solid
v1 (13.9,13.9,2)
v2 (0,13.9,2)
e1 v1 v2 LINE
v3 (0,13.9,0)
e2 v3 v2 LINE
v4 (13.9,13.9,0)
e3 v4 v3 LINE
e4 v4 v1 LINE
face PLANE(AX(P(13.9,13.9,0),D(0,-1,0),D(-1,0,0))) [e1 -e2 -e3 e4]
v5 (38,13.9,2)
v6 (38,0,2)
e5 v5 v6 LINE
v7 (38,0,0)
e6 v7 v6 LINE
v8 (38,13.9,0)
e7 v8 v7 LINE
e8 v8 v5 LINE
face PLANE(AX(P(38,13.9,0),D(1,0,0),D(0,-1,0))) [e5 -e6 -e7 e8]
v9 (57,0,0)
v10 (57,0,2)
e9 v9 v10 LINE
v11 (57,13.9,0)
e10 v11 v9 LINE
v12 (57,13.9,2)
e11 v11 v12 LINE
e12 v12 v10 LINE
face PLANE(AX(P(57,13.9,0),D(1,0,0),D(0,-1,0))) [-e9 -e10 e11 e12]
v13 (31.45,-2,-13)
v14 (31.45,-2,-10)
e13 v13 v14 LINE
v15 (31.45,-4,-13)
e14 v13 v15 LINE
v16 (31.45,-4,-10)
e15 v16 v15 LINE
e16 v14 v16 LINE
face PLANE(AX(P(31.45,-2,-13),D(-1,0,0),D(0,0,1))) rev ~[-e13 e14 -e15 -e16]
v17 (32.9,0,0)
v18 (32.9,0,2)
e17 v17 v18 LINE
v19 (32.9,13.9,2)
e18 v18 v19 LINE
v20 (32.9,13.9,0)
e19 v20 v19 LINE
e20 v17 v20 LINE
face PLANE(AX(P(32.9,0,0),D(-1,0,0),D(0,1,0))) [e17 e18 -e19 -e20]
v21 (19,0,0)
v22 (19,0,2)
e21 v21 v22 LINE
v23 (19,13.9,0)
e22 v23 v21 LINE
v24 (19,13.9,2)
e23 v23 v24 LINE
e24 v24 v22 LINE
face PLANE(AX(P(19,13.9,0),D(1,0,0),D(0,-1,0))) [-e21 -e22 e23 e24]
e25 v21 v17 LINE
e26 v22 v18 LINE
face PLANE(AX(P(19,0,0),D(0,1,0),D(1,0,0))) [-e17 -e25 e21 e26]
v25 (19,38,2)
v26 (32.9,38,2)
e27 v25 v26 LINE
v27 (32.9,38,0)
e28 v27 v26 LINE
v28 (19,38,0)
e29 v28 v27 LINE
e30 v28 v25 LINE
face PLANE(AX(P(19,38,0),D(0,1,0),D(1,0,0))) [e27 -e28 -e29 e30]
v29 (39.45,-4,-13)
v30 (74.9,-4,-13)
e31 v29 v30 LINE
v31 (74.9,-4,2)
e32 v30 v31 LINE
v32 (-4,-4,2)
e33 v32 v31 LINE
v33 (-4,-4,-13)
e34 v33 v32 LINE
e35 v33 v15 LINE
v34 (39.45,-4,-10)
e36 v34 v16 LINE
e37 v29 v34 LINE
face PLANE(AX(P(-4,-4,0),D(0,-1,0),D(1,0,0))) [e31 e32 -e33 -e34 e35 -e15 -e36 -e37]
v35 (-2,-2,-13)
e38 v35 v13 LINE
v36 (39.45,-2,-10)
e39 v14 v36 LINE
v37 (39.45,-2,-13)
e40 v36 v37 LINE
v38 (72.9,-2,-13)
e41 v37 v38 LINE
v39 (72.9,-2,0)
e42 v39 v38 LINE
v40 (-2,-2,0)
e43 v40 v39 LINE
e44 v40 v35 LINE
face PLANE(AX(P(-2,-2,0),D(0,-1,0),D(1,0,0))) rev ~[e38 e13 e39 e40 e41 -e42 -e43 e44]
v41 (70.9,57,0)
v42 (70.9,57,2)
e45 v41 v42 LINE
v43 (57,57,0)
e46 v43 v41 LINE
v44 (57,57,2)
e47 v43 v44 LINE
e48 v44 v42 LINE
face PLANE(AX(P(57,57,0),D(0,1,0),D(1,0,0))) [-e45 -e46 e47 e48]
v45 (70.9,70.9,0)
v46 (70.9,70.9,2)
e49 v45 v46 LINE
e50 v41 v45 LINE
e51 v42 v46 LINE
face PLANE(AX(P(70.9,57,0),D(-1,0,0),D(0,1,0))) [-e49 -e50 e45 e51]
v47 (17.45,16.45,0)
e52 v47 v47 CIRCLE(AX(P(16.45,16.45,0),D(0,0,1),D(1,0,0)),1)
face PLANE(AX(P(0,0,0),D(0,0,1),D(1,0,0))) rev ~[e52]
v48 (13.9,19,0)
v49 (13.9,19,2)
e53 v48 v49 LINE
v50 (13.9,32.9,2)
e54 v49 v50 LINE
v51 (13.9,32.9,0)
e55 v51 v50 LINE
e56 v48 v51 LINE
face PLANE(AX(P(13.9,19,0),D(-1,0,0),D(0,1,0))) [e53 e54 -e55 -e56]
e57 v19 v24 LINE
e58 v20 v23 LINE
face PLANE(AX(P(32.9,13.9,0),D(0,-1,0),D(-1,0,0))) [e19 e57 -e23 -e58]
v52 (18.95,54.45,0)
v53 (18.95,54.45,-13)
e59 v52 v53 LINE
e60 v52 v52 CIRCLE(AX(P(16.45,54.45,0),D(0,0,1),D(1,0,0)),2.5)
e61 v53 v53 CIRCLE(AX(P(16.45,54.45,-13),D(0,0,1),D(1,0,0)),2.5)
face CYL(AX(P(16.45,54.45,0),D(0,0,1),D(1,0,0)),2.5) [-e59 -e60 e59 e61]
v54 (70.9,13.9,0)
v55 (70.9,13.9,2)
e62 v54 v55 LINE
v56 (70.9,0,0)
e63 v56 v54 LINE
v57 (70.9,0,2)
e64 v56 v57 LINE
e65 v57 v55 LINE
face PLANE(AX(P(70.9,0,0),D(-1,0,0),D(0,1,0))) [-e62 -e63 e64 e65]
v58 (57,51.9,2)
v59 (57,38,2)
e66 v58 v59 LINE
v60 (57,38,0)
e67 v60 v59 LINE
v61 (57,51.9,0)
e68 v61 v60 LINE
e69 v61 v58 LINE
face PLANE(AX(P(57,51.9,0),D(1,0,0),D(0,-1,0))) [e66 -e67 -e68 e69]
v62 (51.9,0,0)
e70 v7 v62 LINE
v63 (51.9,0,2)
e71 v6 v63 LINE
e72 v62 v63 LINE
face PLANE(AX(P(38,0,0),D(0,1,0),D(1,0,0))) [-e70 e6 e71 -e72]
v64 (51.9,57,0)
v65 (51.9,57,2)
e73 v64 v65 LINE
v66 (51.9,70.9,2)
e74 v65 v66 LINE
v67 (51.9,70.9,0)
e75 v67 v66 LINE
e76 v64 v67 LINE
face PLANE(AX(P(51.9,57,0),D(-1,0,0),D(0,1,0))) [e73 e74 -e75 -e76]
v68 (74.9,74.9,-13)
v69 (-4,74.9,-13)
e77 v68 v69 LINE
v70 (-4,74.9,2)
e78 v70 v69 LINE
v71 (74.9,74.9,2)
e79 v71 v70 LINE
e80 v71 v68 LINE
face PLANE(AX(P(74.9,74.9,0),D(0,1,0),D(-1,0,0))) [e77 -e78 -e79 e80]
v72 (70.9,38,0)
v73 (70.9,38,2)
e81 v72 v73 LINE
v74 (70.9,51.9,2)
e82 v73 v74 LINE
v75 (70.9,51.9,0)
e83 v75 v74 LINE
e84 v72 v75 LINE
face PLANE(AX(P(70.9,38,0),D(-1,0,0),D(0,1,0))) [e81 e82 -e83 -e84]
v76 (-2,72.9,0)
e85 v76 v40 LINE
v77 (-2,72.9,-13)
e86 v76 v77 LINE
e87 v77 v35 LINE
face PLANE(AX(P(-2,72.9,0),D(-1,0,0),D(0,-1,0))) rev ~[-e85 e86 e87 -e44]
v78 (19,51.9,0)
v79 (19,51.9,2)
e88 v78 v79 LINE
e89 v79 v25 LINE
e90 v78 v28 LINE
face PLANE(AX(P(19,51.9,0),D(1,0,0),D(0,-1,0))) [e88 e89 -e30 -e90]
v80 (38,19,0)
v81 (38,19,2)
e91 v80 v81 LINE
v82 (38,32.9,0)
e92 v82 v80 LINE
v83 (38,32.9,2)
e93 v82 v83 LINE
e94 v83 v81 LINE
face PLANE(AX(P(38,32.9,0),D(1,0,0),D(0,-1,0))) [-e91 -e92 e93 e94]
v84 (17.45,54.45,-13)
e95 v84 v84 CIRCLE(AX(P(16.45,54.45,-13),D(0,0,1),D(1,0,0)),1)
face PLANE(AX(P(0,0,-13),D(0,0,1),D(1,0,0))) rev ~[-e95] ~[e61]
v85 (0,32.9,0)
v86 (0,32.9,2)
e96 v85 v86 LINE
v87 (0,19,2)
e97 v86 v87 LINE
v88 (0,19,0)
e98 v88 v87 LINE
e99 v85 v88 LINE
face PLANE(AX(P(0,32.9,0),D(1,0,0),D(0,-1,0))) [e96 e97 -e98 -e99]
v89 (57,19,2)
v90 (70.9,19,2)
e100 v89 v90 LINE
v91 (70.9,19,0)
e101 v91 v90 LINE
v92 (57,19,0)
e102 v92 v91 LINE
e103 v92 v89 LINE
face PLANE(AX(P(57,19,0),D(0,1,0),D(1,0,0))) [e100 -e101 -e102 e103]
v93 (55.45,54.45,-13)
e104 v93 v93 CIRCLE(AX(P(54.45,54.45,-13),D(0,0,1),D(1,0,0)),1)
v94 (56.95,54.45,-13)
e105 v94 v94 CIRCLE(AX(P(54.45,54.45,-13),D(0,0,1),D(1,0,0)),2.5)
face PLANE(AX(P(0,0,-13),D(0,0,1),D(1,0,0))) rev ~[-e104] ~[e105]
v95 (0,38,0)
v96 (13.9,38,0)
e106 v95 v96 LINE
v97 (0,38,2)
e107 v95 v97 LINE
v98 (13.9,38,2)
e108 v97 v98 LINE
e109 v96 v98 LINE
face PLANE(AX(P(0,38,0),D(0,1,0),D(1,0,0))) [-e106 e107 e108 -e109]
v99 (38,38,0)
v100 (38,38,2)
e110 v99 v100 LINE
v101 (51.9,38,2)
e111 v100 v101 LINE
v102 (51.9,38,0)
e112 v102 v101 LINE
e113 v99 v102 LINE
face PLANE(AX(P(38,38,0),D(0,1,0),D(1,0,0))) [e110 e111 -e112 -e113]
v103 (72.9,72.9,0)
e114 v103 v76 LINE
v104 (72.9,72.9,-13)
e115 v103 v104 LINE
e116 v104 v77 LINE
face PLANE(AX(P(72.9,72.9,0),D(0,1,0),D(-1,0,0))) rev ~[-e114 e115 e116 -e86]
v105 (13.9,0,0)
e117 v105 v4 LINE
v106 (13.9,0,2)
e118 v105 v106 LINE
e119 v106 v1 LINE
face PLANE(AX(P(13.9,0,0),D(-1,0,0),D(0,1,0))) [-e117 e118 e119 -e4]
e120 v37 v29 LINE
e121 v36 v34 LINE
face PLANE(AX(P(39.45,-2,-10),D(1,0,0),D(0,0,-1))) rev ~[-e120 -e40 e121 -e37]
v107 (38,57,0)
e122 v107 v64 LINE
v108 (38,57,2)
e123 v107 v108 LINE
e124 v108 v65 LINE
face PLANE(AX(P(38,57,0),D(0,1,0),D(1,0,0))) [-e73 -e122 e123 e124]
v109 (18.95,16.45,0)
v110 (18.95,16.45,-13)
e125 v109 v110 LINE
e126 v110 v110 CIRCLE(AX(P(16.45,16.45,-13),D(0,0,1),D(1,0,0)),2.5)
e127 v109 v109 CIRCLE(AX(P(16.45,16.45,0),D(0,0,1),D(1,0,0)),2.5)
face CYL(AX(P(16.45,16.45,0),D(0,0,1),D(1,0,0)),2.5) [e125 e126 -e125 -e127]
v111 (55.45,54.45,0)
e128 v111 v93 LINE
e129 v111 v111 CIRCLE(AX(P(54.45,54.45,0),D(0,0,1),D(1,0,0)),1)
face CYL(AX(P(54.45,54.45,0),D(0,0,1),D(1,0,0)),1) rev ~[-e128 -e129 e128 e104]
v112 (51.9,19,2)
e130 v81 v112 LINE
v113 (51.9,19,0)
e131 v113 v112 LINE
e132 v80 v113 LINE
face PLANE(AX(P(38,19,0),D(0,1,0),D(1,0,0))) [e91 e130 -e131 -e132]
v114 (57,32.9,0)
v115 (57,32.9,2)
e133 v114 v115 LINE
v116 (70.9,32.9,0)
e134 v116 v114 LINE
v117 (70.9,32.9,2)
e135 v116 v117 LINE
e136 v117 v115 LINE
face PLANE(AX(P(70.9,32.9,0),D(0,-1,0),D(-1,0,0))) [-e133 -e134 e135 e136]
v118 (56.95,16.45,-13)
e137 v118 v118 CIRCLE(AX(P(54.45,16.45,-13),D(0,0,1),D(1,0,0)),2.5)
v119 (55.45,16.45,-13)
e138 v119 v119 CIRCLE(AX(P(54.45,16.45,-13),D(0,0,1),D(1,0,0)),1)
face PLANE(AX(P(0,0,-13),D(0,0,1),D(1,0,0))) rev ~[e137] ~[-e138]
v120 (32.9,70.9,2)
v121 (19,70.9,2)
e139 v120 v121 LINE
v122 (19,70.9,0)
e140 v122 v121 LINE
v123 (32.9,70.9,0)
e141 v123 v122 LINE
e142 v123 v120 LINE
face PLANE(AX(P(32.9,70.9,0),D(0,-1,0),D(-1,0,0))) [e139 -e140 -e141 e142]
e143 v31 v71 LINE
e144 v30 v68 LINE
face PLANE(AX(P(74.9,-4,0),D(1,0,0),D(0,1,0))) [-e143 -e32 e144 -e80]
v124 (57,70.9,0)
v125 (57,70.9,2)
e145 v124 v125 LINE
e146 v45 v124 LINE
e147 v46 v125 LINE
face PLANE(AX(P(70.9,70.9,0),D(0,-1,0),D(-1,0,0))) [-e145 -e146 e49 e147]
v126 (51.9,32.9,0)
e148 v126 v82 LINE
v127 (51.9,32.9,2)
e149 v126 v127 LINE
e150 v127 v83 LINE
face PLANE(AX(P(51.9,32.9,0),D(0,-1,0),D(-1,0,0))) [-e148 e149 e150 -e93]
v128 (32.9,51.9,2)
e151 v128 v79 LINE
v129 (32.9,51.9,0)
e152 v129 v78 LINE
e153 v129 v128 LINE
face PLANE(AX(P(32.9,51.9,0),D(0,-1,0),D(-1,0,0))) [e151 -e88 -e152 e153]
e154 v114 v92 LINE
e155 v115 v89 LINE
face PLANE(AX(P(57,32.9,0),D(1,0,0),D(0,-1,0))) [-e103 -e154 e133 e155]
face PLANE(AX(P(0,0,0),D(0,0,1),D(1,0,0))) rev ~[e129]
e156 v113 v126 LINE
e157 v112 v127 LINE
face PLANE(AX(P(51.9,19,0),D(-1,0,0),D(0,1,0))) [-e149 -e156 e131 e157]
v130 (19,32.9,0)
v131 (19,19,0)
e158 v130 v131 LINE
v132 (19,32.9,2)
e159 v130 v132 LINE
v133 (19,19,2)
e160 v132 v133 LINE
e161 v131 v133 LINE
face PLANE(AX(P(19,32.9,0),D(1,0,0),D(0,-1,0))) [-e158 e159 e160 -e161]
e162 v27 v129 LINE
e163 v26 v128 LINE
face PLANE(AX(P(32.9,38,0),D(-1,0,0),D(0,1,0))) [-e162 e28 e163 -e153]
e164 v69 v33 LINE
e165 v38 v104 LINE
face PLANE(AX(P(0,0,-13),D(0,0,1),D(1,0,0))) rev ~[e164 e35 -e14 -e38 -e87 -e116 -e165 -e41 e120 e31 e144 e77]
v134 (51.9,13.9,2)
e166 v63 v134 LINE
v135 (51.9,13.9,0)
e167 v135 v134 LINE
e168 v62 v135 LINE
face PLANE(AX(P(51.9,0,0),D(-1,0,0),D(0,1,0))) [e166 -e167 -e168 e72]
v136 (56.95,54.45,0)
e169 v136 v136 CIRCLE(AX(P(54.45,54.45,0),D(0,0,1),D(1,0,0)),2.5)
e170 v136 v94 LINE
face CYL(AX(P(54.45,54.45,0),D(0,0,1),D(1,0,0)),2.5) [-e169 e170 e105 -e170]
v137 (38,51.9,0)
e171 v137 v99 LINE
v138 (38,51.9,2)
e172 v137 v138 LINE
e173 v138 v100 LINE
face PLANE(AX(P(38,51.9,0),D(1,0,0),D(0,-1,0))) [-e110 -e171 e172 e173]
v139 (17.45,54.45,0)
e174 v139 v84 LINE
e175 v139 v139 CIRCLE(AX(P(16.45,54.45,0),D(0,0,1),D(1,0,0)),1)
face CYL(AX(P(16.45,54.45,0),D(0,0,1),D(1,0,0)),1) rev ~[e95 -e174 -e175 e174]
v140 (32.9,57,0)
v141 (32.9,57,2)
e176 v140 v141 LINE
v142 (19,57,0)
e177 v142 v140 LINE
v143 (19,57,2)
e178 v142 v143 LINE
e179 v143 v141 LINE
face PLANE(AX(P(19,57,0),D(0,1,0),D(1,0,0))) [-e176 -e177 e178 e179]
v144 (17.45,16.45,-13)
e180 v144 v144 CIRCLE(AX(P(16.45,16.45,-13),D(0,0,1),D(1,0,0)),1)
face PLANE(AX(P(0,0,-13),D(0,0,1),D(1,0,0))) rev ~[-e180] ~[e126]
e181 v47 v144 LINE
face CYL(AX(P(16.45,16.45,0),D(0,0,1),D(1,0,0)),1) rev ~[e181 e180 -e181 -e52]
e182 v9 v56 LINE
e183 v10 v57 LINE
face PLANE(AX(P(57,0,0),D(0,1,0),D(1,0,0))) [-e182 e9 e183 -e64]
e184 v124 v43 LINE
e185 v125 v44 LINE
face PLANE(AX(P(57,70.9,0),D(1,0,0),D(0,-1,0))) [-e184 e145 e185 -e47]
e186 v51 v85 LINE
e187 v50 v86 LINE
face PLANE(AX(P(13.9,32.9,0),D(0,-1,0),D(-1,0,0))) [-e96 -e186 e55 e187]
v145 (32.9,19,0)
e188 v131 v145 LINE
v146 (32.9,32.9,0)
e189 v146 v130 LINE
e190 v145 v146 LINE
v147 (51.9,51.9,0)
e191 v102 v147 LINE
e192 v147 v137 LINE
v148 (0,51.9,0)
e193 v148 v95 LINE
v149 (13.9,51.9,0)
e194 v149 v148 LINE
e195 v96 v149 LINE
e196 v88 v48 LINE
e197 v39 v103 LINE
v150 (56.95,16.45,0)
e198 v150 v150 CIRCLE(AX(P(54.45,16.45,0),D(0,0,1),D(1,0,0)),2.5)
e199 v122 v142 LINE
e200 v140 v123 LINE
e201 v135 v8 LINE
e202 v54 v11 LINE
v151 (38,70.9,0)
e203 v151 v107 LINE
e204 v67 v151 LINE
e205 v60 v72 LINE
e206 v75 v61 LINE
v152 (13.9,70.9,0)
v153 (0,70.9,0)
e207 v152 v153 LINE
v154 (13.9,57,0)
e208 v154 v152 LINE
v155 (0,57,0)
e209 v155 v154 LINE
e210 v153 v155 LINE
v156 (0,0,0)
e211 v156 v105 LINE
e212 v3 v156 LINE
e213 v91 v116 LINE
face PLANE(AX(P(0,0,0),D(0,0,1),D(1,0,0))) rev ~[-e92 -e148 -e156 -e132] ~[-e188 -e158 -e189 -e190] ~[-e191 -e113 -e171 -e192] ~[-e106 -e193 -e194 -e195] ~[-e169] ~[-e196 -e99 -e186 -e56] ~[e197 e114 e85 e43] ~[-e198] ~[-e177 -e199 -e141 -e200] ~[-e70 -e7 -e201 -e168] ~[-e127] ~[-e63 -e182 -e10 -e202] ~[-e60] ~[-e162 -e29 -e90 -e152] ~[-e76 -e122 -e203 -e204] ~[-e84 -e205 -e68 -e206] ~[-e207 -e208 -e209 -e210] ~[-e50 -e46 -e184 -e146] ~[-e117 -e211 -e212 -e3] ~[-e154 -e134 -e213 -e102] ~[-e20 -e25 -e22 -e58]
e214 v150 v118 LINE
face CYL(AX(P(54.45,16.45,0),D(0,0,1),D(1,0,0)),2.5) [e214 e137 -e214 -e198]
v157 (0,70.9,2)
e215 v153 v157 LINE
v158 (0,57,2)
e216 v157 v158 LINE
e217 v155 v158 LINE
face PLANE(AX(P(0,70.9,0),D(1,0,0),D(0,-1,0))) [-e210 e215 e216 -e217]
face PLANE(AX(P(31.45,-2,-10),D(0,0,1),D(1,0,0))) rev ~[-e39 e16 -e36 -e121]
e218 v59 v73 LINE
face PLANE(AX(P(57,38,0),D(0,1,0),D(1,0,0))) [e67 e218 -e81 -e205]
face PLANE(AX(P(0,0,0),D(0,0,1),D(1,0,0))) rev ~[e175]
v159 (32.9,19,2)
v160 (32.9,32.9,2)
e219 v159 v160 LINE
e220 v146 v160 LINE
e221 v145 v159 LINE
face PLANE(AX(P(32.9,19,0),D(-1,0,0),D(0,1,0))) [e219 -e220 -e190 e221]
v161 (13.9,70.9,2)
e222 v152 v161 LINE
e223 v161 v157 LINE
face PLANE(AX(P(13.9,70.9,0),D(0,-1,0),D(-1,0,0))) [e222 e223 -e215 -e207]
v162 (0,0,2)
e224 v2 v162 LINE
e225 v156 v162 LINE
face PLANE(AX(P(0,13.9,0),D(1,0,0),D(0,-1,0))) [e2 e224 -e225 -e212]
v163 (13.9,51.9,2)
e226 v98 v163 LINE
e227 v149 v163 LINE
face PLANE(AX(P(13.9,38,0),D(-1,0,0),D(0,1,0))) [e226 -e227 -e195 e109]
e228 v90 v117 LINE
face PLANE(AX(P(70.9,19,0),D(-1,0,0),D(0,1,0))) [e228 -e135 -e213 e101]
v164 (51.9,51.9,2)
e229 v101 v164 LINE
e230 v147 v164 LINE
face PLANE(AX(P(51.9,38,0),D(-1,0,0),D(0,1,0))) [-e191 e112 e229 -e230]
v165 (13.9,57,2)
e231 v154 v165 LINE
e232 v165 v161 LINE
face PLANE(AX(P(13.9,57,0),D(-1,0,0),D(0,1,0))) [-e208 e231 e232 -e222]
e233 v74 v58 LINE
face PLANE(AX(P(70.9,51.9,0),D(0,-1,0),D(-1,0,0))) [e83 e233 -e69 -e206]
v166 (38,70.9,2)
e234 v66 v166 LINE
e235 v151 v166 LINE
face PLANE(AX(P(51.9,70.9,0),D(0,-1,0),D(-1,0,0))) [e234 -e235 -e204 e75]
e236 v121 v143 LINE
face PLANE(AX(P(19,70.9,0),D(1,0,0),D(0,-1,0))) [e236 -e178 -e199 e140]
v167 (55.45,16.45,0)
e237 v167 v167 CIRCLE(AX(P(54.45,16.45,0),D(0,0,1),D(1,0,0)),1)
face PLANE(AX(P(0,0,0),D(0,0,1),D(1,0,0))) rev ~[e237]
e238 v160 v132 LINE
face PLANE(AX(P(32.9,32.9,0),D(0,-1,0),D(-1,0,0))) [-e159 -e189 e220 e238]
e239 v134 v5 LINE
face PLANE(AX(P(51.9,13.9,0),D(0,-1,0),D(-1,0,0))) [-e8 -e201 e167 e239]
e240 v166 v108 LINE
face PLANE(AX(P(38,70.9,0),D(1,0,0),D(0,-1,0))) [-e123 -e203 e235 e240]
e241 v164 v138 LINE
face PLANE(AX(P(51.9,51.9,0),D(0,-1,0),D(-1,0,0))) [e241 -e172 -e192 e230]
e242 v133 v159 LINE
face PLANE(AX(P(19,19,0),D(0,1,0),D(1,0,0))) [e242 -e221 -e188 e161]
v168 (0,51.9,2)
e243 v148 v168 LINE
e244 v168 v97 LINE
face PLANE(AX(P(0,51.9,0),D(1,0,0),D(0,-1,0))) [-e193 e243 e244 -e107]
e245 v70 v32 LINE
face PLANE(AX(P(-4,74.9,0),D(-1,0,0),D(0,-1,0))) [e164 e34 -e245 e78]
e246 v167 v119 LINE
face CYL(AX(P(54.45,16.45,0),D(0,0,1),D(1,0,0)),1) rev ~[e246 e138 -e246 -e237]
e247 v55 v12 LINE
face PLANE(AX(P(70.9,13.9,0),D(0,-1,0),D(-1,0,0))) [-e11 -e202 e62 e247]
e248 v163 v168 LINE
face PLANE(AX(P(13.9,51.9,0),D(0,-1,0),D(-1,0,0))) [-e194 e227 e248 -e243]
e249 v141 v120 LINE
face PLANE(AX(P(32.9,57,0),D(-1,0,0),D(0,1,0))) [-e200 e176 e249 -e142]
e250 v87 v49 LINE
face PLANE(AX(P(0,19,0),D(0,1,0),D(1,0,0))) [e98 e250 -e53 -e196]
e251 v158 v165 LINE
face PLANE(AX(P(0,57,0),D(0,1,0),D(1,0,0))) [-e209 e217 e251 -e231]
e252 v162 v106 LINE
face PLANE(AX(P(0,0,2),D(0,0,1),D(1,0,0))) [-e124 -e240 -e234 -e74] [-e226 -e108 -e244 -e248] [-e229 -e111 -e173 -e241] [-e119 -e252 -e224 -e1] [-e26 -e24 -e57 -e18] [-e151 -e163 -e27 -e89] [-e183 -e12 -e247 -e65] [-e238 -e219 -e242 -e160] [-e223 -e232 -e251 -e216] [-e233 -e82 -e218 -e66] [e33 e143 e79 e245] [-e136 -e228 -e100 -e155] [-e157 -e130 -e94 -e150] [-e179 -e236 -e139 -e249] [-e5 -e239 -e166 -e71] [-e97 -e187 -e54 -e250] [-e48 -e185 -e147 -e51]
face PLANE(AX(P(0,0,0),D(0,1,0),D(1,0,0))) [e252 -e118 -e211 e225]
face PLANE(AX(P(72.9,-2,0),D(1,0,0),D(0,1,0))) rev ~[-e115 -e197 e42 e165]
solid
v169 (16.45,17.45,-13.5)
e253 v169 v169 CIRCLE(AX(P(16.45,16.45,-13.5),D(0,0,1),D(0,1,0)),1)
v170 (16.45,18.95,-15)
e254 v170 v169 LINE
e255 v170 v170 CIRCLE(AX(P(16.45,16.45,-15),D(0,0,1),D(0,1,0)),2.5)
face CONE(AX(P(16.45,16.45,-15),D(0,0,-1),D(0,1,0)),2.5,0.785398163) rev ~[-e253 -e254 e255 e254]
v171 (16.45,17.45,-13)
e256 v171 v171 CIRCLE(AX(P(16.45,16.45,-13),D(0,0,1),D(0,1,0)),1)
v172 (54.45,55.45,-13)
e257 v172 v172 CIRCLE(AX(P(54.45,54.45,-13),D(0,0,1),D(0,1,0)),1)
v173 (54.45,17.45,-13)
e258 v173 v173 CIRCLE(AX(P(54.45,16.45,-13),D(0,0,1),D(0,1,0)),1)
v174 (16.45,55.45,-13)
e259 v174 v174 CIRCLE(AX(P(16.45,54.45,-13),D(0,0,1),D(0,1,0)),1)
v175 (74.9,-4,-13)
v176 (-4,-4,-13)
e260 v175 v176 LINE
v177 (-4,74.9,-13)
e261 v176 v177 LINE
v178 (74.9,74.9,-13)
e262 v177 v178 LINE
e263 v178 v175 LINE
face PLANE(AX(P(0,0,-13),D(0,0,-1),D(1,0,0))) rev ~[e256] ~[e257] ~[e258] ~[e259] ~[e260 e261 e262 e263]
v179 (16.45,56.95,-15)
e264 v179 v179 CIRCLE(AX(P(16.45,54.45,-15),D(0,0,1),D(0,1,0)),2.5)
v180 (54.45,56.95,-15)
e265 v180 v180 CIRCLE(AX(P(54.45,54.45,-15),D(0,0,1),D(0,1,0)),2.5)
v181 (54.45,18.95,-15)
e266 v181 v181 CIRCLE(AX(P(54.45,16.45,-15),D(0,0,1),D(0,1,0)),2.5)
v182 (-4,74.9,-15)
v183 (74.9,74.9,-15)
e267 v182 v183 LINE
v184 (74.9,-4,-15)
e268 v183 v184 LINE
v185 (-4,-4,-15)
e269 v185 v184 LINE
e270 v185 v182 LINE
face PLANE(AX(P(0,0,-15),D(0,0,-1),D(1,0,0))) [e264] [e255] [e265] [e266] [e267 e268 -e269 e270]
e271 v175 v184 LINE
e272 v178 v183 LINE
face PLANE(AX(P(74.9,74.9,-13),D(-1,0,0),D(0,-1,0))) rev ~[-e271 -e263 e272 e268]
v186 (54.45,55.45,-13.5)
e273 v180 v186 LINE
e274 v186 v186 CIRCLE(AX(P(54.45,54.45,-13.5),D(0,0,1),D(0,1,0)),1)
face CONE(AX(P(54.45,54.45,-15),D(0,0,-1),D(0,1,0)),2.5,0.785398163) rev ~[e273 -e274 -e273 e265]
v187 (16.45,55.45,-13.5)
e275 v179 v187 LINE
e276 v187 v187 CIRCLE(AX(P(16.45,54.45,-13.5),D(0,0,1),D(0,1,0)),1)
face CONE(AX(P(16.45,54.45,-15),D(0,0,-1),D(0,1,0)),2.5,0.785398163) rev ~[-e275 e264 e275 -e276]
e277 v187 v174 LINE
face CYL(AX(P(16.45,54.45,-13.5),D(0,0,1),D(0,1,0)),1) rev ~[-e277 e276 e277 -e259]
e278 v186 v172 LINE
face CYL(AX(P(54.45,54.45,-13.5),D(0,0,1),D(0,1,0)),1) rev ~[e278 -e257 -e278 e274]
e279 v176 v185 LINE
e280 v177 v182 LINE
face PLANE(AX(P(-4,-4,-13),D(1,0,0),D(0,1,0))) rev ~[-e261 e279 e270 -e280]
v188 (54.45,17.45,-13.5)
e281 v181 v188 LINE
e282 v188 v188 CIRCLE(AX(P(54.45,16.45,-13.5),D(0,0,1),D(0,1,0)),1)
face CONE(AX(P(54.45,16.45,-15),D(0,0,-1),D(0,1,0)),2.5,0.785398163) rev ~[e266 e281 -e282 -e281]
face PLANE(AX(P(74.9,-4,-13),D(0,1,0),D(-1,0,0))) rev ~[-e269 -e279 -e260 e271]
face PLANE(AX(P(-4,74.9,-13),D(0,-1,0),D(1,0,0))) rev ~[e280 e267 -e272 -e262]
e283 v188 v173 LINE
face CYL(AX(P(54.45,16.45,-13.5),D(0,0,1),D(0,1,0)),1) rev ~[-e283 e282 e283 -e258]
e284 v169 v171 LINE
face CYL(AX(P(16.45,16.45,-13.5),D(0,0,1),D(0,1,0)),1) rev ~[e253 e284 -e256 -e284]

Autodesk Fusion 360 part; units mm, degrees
sketch "Sketch1" plane through (0, 0, 0) normal (0, 0, 1) x (1, 0, 0)
  line L0 (-4, -4) -> (74.9, -4)
  line L1 (74.9, -4) -> (74.9, 74.9)
  line L2 (74.9, 74.9) -> (-4, 74.9)
  line L3 (-4, 74.9) -> (-4, -4)
  line L4 (0, 0) -> (13.9, 0)
  line L5 (13.9, 0) -> (13.9, 13.9)
  line L6 (13.9, 13.9) -> (0, 13.9)
  line L7 (0, 13.9) -> (0, 0)
  line L8 (19, 13.9) -> (19, 0)
  line L9 (32.9, 13.9) -> (19, 13.9)
  line L10 (32.9, 0) -> (32.9, 13.9)
  line L11 (19, 0) -> (32.9, 0)
  line L12 (38, 13.9) -> (38, 0)
  line L13 (51.9, 13.9) -> (38, 13.9)
  line L14 (51.9, 0) -> (51.9, 13.9)
  line L15 (38, 0) -> (51.9, 0)
  line L16 (57, 13.9) -> (57, 0)
  line L17 (70.9, 13.9) -> (57, 13.9)
  line L18 (70.9, 0) -> (70.9, 13.9)
  line L19 (57, 0) -> (70.9, 0)
  line L20 (0, 32.9) -> (0, 19)
  line L21 (13.9, 32.9) -> (0, 32.9)
  line L22 (13.9, 19) -> (13.9, 32.9)
  line L23 (0, 19) -> (13.9, 19)
  line L24 (19, 32.9) -> (19, 19)
  line L25 (32.9, 32.9) -> (19, 32.9)
  line L26 (32.9, 19) -> (32.9, 32.9)
  line L27 (19, 19) -> (32.9, 19)
  line L28 (38, 32.9) -> (38, 19)
  line L29 (51.9, 32.9) -> (38, 32.9)
  line L30 (51.9, 19) -> (51.9, 32.9)
  line L31 (38, 19) -> (51.9, 19)
  line L32 (57, 32.9) -> (57, 19)
  line L33 (70.9, 32.9) -> (57, 32.9)
  line L34 (70.9, 19) -> (70.9, 32.9)
  line L35 (57, 19) -> (70.9, 19)
  line L36 (0, 51.9) -> (0, 38)
  line L37 (13.9, 51.9) -> (0, 51.9)
  line L38 (13.9, 38) -> (13.9, 51.9)
  line L39 (0, 38) -> (13.9, 38)
  line L40 (19, 51.9) -> (19, 38)
  line L41 (32.9, 51.9) -> (19, 51.9)
  line L42 (32.9, 38) -> (32.9, 51.9)
  line L43 (19, 38) -> (32.9, 38)
  line L44 (38, 51.9) -> (38, 38)
  line L45 (51.9, 51.9) -> (38, 51.9)
  line L46 (51.9, 38) -> (51.9, 51.9)
  line L47 (38, 38) -> (51.9, 38)
  line L48 (57, 51.9) -> (57, 38)
  line L49 (70.9, 51.9) -> (57, 51.9)
  line L50 (70.9, 38) -> (70.9, 51.9)
  line L51 (57, 38) -> (70.9, 38)
  line L52 (0, 70.9) -> (0, 57)
  line L53 (13.9, 70.9) -> (0, 70.9)
  line L54 (13.9, 57) -> (13.9, 70.9)
  line L55 (0, 57) -> (13.9, 57)
  line L56 (19, 70.9) -> (19, 57)
  line L57 (32.9, 70.9) -> (19, 70.9)
  line L58 (32.9, 57) -> (32.9, 70.9)
  line L59 (19, 57) -> (32.9, 57)
  line L60 (38, 70.9) -> (38, 57)
  line L61 (51.9, 70.9) -> (38, 70.9)
  line L62 (51.9, 57) -> (51.9, 70.9)
  line L63 (38, 57) -> (51.9, 57)
  line L64 (57, 70.9) -> (57, 57)
  line L65 (70.9, 70.9) -> (57, 70.9)
  line L66 (70.9, 57) -> (70.9, 70.9)
  line L67 (57, 57) -> (70.9, 57)
  line L68 (-2, -2) -> (72.9, -2)
  line L69 (72.9, -2) -> (72.9, 72.9)
  line L70 (72.9, 72.9) -> (-2, 72.9)
  line L71 (-2, 72.9) -> (-2, -2)
  line L72 (0, 0) -> (70.9, 70.9) construction
  line L73 (0, 70.9) -> (70.9, 0) construction
  line L74 (13.9, 51.9) -> (19, 57) construction
  line L75 (51.9, 57) -> (57, 51.9) construction
  line L76 (57, 19) -> (51.9, 13.9) construction
  line L77 (19, 13.9) -> (13.9, 19) construction
  circle A0 centre (16.45, 16.45) radius 2.5
  circle A1 centre (54.45, 16.45) radius 2.5
  circle A2 centre (54.45, 54.45) radius 2.5
  circle A3 centre (16.45, 54.45) radius 2.5
  circle A4 centre (16.45, 16.45) radius 1
  circle A5 centre (54.45, 16.45) radius 1
  circle A6 centre (54.45, 54.45) radius 1
  circle A7 centre (16.45, 54.45) radius 1
  dimension "d1" = 13.9
  dimension "d4" = 19
  dimension "d5" = 19
  dimension "d6" = 4
  dimension "d7" = 4
  dimension "d8" = 4
  dimension "d9" = 4
  dimension "d12" = 2
  dimension "d13" = 2
  dimension "d14" = 2
  dimension "d15" = 2
  dimension "d18" = 5
  dimension "d19" = 2
extrude "Extrude1" add sketch "Sketch1" along normal blind 2 contours L0 L1 L2 L3 | L68 L69 L70 L71 | A0 | A1 | A2 | A3 | A4 | A5 | A6 | A7 makes body 1
extrude "Extrude2" add sketch "Sketch1" against normal blind 13 contours L0 L1 L2 L3 bodies 1
extrude "Extrude3" add sketch "Sketch1" against normal up to surface (13 mm away) contours A0 | A1 | A2 | A3 bodies 1
sketch "Sketch2" plane through (0, -2, 0) normal (0, 1, 0) x (-1, 0, 0)
  line L0 (2, 0) -> (-72.9, 0)
  line L1 (-72.9, 0) -> (-72.9, -13)
  line L2 (-72.9, -13) -> (2, -13)
  line L3 (2, -13) -> (2, 0)
  line L4 (-39.45, -13) -> (-31.45, -13)
  line L5 (-31.45, -13) -> (-31.45, -10)
  line L6 (-31.45, -10) -> (-39.45, -10)
  line L7 (-39.45, -10) -> (-39.45, -13)
  line L8 (-74.9, -13) -> (4, 2) construction
  line L9 (-35.45, -5.5) -> (-35.45, -10) construction
  point P0 (4, 2)
  point P1 (-74.9, -13)
  dimension "d22" = 8
  dimension "d23" = 3
extrude "Extrude4" cut sketch "Sketch2" against normal blind 5 contours L2 L4 L5 L6 L7 bodies 1
sketch "Sketch1 (2)" plane through (0, 0, -13) normal (0, 0, -1) x (1, 0, 0) in component "Component"
  line L0 (39.45, 4) -> (39.45, 2)
  line L1 (39.45, 2) -> (72.9, 2)
  line L2 (72.9, 2) -> (72.9, -72.9)
  line L3 (72.9, -72.9) -> (-2, -72.9)
  line L4 (-2, -72.9) -> (-2, 2)
  line L5 (-2, 2) -> (31.45, 2)
  line L6 (31.45, 2) -> (31.45, 4)
  line L7 (31.45, 4) -> (-4, 4)
  line L8 (-4, 4) -> (-4, -74.9)
  line L9 (-4, -74.9) -> (74.9, -74.9)
  line L10 (74.9, -74.9) -> (74.9, 4)
  line L11 (74.9, 4) -> (39.45, 4)
  line L12 (-4, 4) -> (74.9, 4)
  line L13 (74.9, 4) -> (74.9, -74.9)
  line L14 (74.9, -74.9) -> (-4, -74.9)
  line L15 (-4, -74.9) -> (-4, 4)
  circle A0 centre (16.45, -16.45) radius 1 construction
  circle A1 centre (54.45, -16.45) radius 1 construction
  circle A2 centre (54.45, -54.45) radius 1 construction
  circle A3 centre (16.45, -54.45) radius 1 construction
  circle A4 centre (16.45, -16.45) radius 2.5 construction
  circle A5 centre (54.45, -16.45) radius 2.5 construction
  circle A6 centre (54.45, -54.45) radius 2.5 construction
  circle A7 centre (16.45, -54.45) radius 2.5 construction
  circle A8 centre (16.45, -16.45) radius 1 construction
extrude "Extrude1'" add sketch "Sketch1 (2)" along normal blind 2 separate body makes body 2 in component "Component"
sketch "Sketch2 (2)" plane through (0, 0, -15) normal (0, 0, -1) x (1, 0, 0) in component "Component"
  line L0 (-4, -74.9) -> (74.9, -74.9)
  line L1 (74.9, -74.9) -> (74.9, 4)
  line L2 (74.9, 4) -> (-4, 4)
  line L3 (-4, 4) -> (-4, -74.9)
  circle A0 centre (16.45, -16.45) radius 2.5634 construction
  circle A1 centre (54.45, -16.45) radius 1.0382 construction
  circle A2 centre (54.45, -54.45) radius 4.154 construction
  circle A3 centre (16.45, -54.45) radius 3.4752 construction
  circle A4 centre (16.45, -54.45) radius 1 construction
  circle A5 centre (54.45, -54.45) radius 1 construction
  circle A6 centre (54.45, -16.45) radius 1 construction
  circle A7 centre (16.45, -16.45) radius 1 construction
hole "Hole1" at (16.45, 16.45, -15) at (54.45, 16.45, -15) at (54.45, 54.45, -15) at (16.45, 54.45, -15) direction (0, 0, 1) diameter 2 depth 4 tip angle 118 countersink diameter 5 countersink angle 90 bodies 2 in component "Component"
component "Component" placed x (1, 0, 0) y (0, 1, 0) z (0, 0, 1) at (0, 0, 0)
equation "d6 = d7"
equation "d8 = d7"
equation "d9 = d7"
